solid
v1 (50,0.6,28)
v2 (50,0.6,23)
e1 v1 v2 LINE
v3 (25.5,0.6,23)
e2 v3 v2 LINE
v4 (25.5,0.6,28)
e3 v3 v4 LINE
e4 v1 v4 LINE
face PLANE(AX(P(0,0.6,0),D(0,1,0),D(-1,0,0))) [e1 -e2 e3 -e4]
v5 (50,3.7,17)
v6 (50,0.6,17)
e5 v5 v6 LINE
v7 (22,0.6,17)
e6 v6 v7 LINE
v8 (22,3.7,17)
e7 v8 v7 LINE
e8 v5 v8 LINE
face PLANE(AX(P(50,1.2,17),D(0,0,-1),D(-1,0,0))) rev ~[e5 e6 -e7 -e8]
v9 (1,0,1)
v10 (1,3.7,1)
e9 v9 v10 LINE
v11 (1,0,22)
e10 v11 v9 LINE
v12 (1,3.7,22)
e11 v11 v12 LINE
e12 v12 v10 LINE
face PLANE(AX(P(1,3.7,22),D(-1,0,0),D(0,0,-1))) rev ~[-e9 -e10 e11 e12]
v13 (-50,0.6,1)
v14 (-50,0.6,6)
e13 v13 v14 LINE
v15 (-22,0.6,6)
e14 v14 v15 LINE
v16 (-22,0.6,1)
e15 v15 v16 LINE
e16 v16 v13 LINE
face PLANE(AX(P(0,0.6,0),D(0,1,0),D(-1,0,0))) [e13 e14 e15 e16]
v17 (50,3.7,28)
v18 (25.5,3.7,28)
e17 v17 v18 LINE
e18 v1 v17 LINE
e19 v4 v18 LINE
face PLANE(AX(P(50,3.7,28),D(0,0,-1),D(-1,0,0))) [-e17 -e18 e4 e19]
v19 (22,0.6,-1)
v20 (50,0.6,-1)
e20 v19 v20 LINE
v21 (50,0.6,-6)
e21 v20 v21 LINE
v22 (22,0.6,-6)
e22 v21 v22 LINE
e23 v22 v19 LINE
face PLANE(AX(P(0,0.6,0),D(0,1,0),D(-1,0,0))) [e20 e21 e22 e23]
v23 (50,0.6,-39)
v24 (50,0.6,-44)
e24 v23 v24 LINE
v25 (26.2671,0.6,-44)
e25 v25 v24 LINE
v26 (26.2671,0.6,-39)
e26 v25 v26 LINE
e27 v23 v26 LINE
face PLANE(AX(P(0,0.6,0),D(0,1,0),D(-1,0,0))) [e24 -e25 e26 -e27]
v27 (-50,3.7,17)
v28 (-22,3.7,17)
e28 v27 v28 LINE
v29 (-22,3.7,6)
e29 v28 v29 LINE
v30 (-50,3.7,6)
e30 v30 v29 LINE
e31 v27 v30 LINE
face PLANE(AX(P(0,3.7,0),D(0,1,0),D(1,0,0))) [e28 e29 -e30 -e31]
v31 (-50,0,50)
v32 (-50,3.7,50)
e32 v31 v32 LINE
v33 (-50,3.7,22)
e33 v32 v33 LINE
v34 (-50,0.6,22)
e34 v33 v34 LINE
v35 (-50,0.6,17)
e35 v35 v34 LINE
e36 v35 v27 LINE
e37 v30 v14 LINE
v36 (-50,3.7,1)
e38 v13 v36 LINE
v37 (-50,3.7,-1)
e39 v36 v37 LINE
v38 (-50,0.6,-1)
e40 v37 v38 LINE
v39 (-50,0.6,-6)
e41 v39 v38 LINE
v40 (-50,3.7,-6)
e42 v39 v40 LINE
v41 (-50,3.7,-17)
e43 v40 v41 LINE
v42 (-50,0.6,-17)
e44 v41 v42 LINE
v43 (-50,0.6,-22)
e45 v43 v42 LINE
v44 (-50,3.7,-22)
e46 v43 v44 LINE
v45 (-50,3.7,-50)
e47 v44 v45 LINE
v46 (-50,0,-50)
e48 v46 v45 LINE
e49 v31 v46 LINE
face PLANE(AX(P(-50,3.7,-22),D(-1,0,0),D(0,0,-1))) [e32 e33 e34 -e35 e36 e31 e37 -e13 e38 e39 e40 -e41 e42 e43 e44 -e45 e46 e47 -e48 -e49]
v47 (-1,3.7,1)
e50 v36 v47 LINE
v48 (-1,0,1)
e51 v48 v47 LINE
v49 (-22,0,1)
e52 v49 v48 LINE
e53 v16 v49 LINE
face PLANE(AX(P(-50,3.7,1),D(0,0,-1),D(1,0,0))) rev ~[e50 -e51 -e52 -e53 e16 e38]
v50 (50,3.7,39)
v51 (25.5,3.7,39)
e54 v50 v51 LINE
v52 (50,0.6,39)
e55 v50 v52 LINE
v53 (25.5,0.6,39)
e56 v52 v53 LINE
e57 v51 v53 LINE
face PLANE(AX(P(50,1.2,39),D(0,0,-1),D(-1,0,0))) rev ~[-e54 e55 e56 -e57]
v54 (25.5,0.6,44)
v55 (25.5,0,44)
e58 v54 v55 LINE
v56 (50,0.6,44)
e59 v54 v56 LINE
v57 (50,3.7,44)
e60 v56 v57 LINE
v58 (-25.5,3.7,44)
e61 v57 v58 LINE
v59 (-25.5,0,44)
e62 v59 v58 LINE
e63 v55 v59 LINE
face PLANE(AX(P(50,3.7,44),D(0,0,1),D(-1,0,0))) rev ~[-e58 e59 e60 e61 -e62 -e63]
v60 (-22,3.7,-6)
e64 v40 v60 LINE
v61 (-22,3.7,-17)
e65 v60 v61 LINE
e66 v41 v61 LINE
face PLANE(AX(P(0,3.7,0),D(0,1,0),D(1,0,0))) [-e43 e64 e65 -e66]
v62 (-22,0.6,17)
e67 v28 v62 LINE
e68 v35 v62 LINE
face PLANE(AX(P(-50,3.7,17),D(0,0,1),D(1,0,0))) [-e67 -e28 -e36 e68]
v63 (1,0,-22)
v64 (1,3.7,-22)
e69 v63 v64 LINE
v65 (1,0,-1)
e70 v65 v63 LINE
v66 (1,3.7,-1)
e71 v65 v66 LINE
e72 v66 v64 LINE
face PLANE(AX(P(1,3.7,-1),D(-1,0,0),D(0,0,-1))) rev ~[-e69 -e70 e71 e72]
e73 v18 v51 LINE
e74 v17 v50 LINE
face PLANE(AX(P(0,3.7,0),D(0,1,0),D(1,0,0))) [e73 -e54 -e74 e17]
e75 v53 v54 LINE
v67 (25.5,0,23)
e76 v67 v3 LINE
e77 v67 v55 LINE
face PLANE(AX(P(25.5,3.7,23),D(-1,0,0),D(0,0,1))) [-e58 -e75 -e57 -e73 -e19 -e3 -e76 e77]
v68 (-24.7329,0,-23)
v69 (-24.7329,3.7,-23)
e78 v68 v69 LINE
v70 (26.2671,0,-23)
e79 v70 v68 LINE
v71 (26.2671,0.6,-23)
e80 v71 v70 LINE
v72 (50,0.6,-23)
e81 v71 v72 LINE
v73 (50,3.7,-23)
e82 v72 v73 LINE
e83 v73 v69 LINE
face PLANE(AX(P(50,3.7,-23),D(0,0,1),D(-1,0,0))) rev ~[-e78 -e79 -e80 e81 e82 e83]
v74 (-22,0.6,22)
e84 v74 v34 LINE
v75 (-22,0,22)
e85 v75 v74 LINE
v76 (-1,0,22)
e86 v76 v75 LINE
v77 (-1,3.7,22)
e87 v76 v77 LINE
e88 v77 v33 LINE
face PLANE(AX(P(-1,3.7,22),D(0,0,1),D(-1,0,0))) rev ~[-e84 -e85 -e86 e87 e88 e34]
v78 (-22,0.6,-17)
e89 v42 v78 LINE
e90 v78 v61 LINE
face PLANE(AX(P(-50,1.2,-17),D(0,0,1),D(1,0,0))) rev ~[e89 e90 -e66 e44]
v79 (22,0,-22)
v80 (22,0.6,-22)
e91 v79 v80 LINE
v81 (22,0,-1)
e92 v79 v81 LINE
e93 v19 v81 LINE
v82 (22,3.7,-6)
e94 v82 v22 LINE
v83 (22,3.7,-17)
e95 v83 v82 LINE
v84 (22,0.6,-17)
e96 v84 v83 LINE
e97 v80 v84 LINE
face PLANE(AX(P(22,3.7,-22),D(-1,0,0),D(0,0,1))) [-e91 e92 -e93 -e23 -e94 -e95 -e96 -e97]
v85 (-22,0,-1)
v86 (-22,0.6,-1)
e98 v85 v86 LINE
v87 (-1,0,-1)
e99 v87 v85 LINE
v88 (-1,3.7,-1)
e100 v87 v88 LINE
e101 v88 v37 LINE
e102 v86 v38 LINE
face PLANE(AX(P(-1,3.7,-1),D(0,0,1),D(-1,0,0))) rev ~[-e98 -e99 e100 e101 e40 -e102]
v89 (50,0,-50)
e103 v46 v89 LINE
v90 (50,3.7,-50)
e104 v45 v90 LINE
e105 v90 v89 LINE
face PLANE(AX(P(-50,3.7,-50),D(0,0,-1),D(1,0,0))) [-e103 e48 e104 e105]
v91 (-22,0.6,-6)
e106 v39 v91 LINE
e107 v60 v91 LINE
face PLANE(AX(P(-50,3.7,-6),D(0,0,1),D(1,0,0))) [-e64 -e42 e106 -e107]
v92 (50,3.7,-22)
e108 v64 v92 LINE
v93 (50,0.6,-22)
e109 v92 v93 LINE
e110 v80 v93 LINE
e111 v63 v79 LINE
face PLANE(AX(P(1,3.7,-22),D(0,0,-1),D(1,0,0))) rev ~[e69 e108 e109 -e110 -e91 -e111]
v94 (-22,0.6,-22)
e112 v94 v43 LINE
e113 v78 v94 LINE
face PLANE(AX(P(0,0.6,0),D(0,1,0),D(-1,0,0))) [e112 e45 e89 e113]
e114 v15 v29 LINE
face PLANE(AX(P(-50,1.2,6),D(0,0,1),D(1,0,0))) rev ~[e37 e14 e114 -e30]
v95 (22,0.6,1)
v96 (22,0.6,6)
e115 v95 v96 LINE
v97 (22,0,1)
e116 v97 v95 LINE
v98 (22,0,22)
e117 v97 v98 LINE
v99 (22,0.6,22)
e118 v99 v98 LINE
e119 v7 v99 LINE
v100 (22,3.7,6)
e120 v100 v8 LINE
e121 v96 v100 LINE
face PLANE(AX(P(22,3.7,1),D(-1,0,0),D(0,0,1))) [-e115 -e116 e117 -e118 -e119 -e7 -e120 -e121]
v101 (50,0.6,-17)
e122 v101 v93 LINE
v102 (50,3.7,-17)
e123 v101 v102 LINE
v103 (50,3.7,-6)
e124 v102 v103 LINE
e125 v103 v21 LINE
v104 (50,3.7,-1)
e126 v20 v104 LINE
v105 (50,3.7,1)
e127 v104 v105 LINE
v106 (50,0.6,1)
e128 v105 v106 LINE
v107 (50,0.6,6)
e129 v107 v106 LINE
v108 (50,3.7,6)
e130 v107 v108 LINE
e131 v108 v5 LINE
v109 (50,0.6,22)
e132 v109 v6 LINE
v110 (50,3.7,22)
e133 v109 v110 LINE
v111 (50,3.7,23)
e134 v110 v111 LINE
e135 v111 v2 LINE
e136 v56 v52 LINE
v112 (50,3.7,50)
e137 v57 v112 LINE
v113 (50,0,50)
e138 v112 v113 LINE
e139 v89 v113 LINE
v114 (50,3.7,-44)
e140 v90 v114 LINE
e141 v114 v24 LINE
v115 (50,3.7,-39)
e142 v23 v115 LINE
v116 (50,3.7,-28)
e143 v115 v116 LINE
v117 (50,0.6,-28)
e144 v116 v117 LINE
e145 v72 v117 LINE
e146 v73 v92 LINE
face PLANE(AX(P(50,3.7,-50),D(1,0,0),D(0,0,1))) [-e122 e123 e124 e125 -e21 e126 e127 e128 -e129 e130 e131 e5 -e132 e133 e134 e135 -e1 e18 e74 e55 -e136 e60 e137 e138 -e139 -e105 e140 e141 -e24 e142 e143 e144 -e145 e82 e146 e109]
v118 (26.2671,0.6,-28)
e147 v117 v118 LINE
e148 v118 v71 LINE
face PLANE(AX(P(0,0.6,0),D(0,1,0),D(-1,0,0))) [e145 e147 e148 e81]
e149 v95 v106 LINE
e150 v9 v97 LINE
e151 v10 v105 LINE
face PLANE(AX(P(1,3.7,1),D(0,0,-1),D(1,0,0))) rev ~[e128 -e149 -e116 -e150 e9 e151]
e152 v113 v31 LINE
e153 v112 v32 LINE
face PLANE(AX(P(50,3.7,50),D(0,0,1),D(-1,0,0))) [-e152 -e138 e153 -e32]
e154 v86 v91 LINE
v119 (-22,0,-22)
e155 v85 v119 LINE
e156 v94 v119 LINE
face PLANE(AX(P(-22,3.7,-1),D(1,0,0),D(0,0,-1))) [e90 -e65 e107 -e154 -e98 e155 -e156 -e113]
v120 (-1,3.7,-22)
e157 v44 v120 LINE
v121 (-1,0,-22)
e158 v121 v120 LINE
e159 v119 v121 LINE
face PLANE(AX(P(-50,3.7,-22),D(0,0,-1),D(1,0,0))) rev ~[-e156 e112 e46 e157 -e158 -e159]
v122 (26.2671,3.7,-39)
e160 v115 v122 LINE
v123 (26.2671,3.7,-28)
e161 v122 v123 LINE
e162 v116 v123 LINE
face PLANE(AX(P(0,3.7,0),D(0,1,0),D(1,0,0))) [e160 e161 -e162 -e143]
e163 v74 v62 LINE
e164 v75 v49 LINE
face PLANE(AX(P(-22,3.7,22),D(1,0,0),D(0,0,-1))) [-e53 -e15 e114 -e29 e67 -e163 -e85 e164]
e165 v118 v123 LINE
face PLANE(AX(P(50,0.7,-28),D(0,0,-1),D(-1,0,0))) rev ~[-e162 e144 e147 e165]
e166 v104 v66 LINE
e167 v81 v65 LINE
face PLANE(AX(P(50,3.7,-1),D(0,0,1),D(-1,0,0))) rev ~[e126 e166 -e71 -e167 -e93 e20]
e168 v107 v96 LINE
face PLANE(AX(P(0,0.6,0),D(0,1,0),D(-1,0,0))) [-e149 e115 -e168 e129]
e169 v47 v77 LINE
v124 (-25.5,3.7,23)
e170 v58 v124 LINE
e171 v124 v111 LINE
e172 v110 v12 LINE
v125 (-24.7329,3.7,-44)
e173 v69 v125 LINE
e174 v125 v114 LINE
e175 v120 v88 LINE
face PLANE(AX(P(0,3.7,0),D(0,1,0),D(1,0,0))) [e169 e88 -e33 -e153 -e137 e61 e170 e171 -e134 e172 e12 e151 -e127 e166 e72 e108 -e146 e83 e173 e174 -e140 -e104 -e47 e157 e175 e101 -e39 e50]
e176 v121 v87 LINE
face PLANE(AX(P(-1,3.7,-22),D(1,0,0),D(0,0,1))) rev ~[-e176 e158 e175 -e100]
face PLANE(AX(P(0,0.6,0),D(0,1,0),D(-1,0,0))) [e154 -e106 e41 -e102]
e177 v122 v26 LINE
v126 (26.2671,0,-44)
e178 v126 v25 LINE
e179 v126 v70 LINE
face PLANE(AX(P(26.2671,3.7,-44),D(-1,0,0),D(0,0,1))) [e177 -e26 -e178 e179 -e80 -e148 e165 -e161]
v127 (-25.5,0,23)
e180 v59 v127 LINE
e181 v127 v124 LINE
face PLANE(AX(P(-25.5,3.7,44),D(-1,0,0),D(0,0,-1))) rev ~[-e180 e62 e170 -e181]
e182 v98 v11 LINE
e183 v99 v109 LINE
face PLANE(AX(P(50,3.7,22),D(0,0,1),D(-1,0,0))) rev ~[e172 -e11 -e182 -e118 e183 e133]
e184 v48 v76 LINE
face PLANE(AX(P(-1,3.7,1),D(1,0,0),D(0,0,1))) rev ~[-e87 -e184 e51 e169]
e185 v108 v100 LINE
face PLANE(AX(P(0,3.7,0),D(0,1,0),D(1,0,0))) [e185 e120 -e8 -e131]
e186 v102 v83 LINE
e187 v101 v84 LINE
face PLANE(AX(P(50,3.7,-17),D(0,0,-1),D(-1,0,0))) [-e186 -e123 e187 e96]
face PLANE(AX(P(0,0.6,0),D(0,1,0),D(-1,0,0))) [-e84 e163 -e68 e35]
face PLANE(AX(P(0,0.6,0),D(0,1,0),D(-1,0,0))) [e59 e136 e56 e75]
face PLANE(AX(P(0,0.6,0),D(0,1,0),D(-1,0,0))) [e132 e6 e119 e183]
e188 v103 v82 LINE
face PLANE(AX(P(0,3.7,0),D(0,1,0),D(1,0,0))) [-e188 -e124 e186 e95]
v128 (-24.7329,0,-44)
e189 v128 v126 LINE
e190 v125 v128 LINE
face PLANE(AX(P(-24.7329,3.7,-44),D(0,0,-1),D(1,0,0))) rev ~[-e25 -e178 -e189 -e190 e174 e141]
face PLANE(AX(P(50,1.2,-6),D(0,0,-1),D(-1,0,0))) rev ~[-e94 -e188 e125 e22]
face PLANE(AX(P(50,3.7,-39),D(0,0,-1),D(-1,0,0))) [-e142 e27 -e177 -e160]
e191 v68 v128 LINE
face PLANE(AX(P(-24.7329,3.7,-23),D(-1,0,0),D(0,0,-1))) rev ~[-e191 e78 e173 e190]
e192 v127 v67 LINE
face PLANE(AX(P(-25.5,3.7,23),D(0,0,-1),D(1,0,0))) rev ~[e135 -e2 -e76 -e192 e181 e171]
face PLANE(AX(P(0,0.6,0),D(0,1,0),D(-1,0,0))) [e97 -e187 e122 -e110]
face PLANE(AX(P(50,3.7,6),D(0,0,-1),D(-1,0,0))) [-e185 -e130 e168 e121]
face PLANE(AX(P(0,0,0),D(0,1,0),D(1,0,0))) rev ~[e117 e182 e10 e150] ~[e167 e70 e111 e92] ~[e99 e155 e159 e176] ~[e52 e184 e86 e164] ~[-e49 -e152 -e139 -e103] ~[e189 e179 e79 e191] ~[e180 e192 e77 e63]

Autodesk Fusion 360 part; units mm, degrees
sketch "スケッチ1" plane through (0, 0, 0) normal (0, 1, 0) x (1, 0, 0)
  line L0 (-50, 50) -> (50, 50)
  line L1 (50, 50) -> (50, -50)
  line L2 (50, -50) -> (-50, -50)
  line L3 (-50, -50) -> (-50, 50)
extrude "押し出し1" add sketch "スケッチ1" along normal blind 3.7
sketch "スケッチ2" plane through (0, 3.7, 0) normal (0, 1, 0) x (-1, 0, 0)
  line L0 (50, 50) -> (-50, 50)
  line L1 (-50, 50) -> (-50, -50)
  line L2 (-50, -50) -> (50, -50)
  line L3 (50, -50) -> (50, 50)
  line L4 (24.7329, -44) -> (-26.2671, -44)
  line L5 (-26.2671, -44) -> (-26.2671, -23)
  line L6 (-26.2671, -23) -> (24.7329, -23)
  line L7 (24.7329, -23) -> (24.7329, -44)
  dimension "d3" = 51
  dimension "d4" = 21
  dimension "d5" = 6
  dimension "d6" = 23.7329
extrude "押し出し2" cut sketch "スケッチ2" against normal blind 3.7 contours L4 L5 L6 L7
sketch "スケッチ3" plane through (0, 3.7, 0) normal (0, 1, 0) x (-1, 0, 0)
  line L0 (-26.2671, -44) -> (-26.2671, -23)
  line L1 (-26.2671, -23) -> (24.7329, -23)
  line L2 (24.7329, -23) -> (24.7329, -44)
  line L3 (24.7329, -44) -> (-26.2671, -44)
  line L4 (50, 50) -> (-50, 50)
  line L5 (-50, 50) -> (-50, -50)
  line L6 (-50, -50) -> (50, -50)
  line L7 (50, -50) -> (50, 50)
  line L8 (-26.2671, -44) -> (-50.7671, -44)
  line L9 (-50.7671, -44) -> (-50.7671, -39)
  line L10 (-50.7671, -39) -> (-26.2671, -39)
  line L11 (-26.2671, -39) -> (-26.2671, -44)
  line L12 (-26.2671, -23) -> (-50.7671, -23)
  line L13 (-50.7671, -23) -> (-50.7671, -28)
  line L14 (-50.7671, -28) -> (-26.2671, -28)
  line L15 (-26.2671, -28) -> (-26.2671, -23)
  dimension "d9" = 24.5
  dimension "d10" = 5
  dimension "d11" = 24.5
  dimension "d12" = 5
extrude "押し出し3" cut sketch "スケッチ3" against normal blind 2.6 contours L0 L5 L8 L10 L11 | L0 L5 L12 L14 L15
sketch "スケッチ4" plane through (0, 3.7, 0) normal (0, 1, 0) x (-1, 0, 0)
  line L0 (-50, -23) -> (24.7329, -23)
  line L1 (24.7329, -23) -> (24.7329, -44)
  line L2 (24.7329, -44) -> (-50, -44)
  line L3 (-50, -44) -> (-50, -50)
  line L4 (-50, -50) -> (50, -50)
  line L5 (50, -50) -> (50, 50)
  line L6 (50, 50) -> (-50, 50)
  line L7 (-50, 50) -> (-50, -23)
  line L8 (-1, -22) -> (-22, -22)
  line L9 (-22, -22) -> (-22, -1)
  line L10 (-22, -1) -> (-1, -1)
  line L11 (-1, -1) -> (-1, -22)
  dimension "d15" = 21
  dimension "d16" = 21
  dimension "d17" = 1
  dimension "d18" = 28
extrude "押し出し4" cut sketch "スケッチ4" against normal blind 3.7 contours L8 L9 L10 L11
sketch "スケッチ5" plane through (0, 3.7, 0) normal (0, 1, 0) x (-1, 0, 0)
  line L0 (-22, -22) -> (-22, -1)
  line L1 (-22, -1) -> (-1, -1)
  line L2 (-1, -1) -> (-1, -22)
  line L3 (-1, -22) -> (-22, -22)
  line L4 (-50, -23) -> (24.7329, -23)
  line L5 (24.7329, -23) -> (24.7329, -44)
  line L6 (24.7329, -44) -> (-50, -44)
  line L7 (-50, -44) -> (-50, -50)
  line L8 (-50, -50) -> (50, -50)
  line L9 (50, -50) -> (50, 50)
  line L10 (50, 50) -> (-50, 50)
  line L11 (-50, 50) -> (-50, -23)
  line L12 (-22, -22) -> (-50, -22)
  line L13 (-50, -22) -> (-50, -17)
  line L14 (-50, -17) -> (-22, -17)
  line L15 (-22, -17) -> (-22, -22)
  line L16 (-22, -1) -> (-50, -1)
  line L17 (-50, -1) -> (-50, -6)
  line L18 (-50, -6) -> (-22, -6)
  line L19 (-22, -6) -> (-22, -1)
  dimension "d21" = 28
  dimension "d22" = 5
  dimension "d23" = 28
  dimension "d24" = 5
extrude "押し出し5" cut sketch "スケッチ5" against normal blind 2.7 contours L0 L11 L12 L13 L14 L15 | L0 L11 L16 L17 L18 L19
sketch "スケッチ6" plane through (0, 3.7, 0) normal (0, 1, 0) x (-1, 0, 0)
  line L0 (-50, -1) -> (-1, -1)
  line L1 (-1, -1) -> (-1, -22)
  line L2 (-1, -22) -> (-50, -22)
  line L3 (-50, -22) -> (-50, -23)
  line L4 (-50, -23) -> (24.7329, -23)
  line L5 (24.7329, -23) -> (24.7329, -44)
  line L6 (24.7329, -44) -> (-50, -44)
  line L7 (-50, -44) -> (-50, -50)
  line L8 (-50, -50) -> (50, -50)
  line L9 (50, -50) -> (50, 50)
  line L10 (50, 50) -> (-50, 50)
  line L11 (-50, 50) -> (-50, -1)
  line L12 (22, -22) -> (1, -22)
  line L13 (1, -22) -> (1, -1)
  line L14 (1, -1) -> (22, -1)
  line L15 (22, -1) -> (22, -22)
  dimension "d27" = 21
  dimension "d28" = 21
  dimension "d29" = 1
  dimension "d30" = 28
extrude "押し出し6" cut sketch "スケッチ6" against normal blind 3.7 contours L12 L13 L14 L15
sketch "スケッチ7" plane through (0, 3.7, 0) normal (0, 1, 0) x (-1, 0, 0)
  line L0 (1, -22) -> (1, -1)
  line L1 (1, -1) -> (22, -1)
  line L2 (22, -1) -> (22, -22)
  line L3 (22, -22) -> (1, -22)
  line L4 (-50, -1) -> (-1, -1)
  line L5 (-1, -1) -> (-1, -22)
  line L6 (-1, -22) -> (-50, -22)
  line L7 (-50, -22) -> (-50, -23)
  line L8 (-50, -23) -> (24.7329, -23)
  line L9 (24.7329, -23) -> (24.7329, -44)
  line L10 (24.7329, -44) -> (-50, -44)
  line L11 (-50, -44) -> (-50, -50)
  line L12 (-50, -50) -> (50, -50)
  line L13 (50, -50) -> (50, 50)
  line L14 (50, 50) -> (-50, 50)
  line L15 (-50, 50) -> (-50, -1)
  line L16 (22, -22) -> (50, -22)
  line L17 (50, -22) -> (50, -17)
  line L18 (50, -17) -> (22, -17)
  line L19 (22, -17) -> (22, -22)
  line L20 (22, -1) -> (50, -1)
  line L21 (50, -1) -> (50, -6)
  line L22 (50, -6) -> (22, -6)
  line L23 (22, -6) -> (22, -1)
  dimension "d33" = 28
  dimension "d34" = 5
  dimension "d35" = 28
  dimension "d36" = 5
extrude "押し出し7" cut sketch "スケッチ7" against normal blind 2.7 contours L2 L13 L16 L17 L18 L19 | L2 L13 L20 L21 L22 L23
sketch "スケッチ8" plane through (0, 3.7, 0) normal (0, 1, 0) x (-1, 0, 0)
  line L0 (1, -1) -> (50, -1)
  line L1 (50, -1) -> (50, 50)
  line L2 (50, 50) -> (-50, 50)
  line L3 (-50, 50) -> (-50, -1)
  line L4 (-50, -1) -> (-1, -1)
  line L5 (-1, -1) -> (-1, -22)
  line L6 (-1, -22) -> (-50, -22)
  line L7 (-50, -22) -> (-50, -23)
  line L8 (-50, -23) -> (24.7329, -23)
  line L9 (24.7329, -23) -> (24.7329, -44)
  line L10 (24.7329, -44) -> (-50, -44)
  line L11 (-50, -44) -> (-50, -50)
  line L12 (-50, -50) -> (50, -50)
  line L13 (50, -50) -> (50, -22)
  line L14 (50, -22) -> (1, -22)
  line L15 (1, -22) -> (1, -1)
  line L16 (-1, 1) -> (-22, 1)
  line L17 (-22, 1) -> (-22, 22)
  line L18 (-22, 22) -> (-1, 22)
  line L19 (-1, 22) -> (-1, 1)
  dimension "d39" = 21
  dimension "d40" = 21
  dimension "d41" = 2
  dimension "d42" = 28
extrude "押し出し8" cut sketch "スケッチ8" against normal blind 3.7 contours L16 L17 L18 L19
sketch "スケッチ9" plane through (0, 3.7, 0) normal (0, 1, 0) x (-1, 0, 0)
  line L0 (-22, 1) -> (-22, 22)
  line L1 (-22, 22) -> (-1, 22)
  line L2 (-1, 22) -> (-1, 1)
  line L3 (-1, 1) -> (-22, 1)
  line L4 (1, -1) -> (50, -1)
  line L5 (50, -1) -> (50, 50)
  line L6 (50, 50) -> (-50, 50)
  line L7 (-50, 50) -> (-50, -1)
  line L8 (-50, -1) -> (-1, -1)
  line L9 (-1, -1) -> (-1, -22)
  line L10 (-1, -22) -> (-50, -22)
  line L11 (-50, -22) -> (-50, -23)
  line L12 (-50, -23) -> (24.7329, -23)
  line L13 (24.7329, -23) -> (24.7329, -44)
  line L14 (24.7329, -44) -> (-50, -44)
  line L15 (-50, -44) -> (-50, -50)
  line L16 (-50, -50) -> (50, -50)
  line L17 (50, -50) -> (50, -22)
  line L18 (50, -22) -> (1, -22)
  line L19 (1, -22) -> (1, -1)
  line L20 (-22, 1) -> (-50, 1)
  line L21 (-50, 1) -> (-50, 6)
  line L22 (-50, 6) -> (-22, 6)
  line L23 (-22, 6) -> (-22, 1)
  line L24 (-22, 22) -> (-50, 22)
  line L25 (-50, 22) -> (-50, 17)
  line L26 (-50, 17) -> (-22, 17)
  line L27 (-22, 17) -> (-22, 22)
  dimension "d45" = 28
  dimension "d46" = 5
  dimension "d47" = 28
  dimension "d48" = 5
extrude "押し出し9" cut sketch "スケッチ9" against normal blind 2.7 contours L0 L7 L20 L21 L22 L23 | L0 L7 L24 L25 L26 L27
sketch "スケッチ10" plane through (0, 3.7, 0) normal (0, 1, 0) x (-1, 0, 0)
  line L0 (-1, 1) -> (-50, 1)
  line L1 (-50, 1) -> (-50, -1)
  line L2 (-50, -1) -> (-1, -1)
  line L3 (-1, -1) -> (-1, -22)
  line L4 (-1, -22) -> (-50, -22)
  line L5 (-50, -22) -> (-50, -23)
  line L6 (-50, -23) -> (24.7329, -23)
  line L7 (24.7329, -23) -> (24.7329, -44)
  line L8 (24.7329, -44) -> (-50, -44)
  line L9 (-50, -44) -> (-50, -50)
  line L10 (-50, -50) -> (50, -50)
  line L11 (50, -50) -> (50, -22)
  line L12 (50, -22) -> (1, -22)
  line L13 (1, -22) -> (1, -1)
  line L14 (1, -1) -> (50, -1)
  line L15 (50, -1) -> (50, 50)
  line L16 (50, 50) -> (-50, 50)
  line L17 (-50, 50) -> (-50, 22)
  line L18 (-50, 22) -> (-1, 22)
  line L19 (-1, 22) -> (-1, 1)
  line L20 (22, 1) -> (1, 1)
  line L21 (1, 1) -> (1, 22)
  line L22 (1, 22) -> (22, 22)
  line L23 (22, 22) -> (22, 1)
  dimension "d51" = 21
  dimension "d52" = 21
  dimension "d53" = 2
  dimension "d54" = 28
extrude "押し出し10" cut sketch "スケッチ10" against normal blind 3.7 contours L20 L21 L22 L23
sketch "スケッチ11" plane through (0, 3.7, 0) normal (0, 1, 0) x (-1, 0, 0)
  line L0 (1, 1) -> (1, 22)
  line L1 (1, 22) -> (22, 22)
  line L2 (22, 22) -> (22, 1)
  line L3 (22, 1) -> (1, 1)
  line L4 (-1, 1) -> (-50, 1)
  line L5 (-50, 1) -> (-50, -1)
  line L6 (-50, -1) -> (-1, -1)
  line L7 (-1, -1) -> (-1, -22)
  line L8 (-1, -22) -> (-50, -22)
  line L9 (-50, -22) -> (-50, -23)
  line L10 (-50, -23) -> (24.7329, -23)
  line L11 (24.7329, -23) -> (24.7329, -44)
  line L12 (24.7329, -44) -> (-50, -44)
  line L13 (-50, -44) -> (-50, -50)
  line L14 (-50, -50) -> (50, -50)
  line L15 (50, -50) -> (50, -22)
  line L16 (50, -22) -> (1, -22)
  line L17 (1, -22) -> (1, -1)
  line L18 (1, -1) -> (50, -1)
  line L19 (50, -1) -> (50, 50)
  line L20 (50, 50) -> (-50, 50)
  line L21 (-50, 50) -> (-50, 22)
  line L22 (-50, 22) -> (-1, 22)
  line L23 (-1, 22) -> (-1, 1)
  line L24 (22, 1) -> (50, 1)
  line L25 (50, 1) -> (50, 6)
  line L26 (50, 6) -> (22, 6)
  line L27 (22, 6) -> (22, 1)
  line L28 (22, 22) -> (50, 22)
  line L29 (50, 22) -> (50, 17)
  line L30 (50, 17) -> (22, 17)
  line L31 (22, 17) -> (22, 22)
  dimension "d57" = 28
  dimension "d58" = 5
  dimension "d59" = 28
  dimension "d60" = 5
extrude "押し出し11" cut sketch "スケッチ11" against normal blind 2.7 contours L2 L19 L24 L25 L26 L27 | L2 L19 L28 L29 L30 L31
sketch "スケッチ12" plane through (0, 3.7, 0) normal (0, 1, 0) x (-1, 0, 0)
  line L0 (50, 1) -> (1, 1)
  line L1 (1, 1) -> (1, 22)
  line L2 (1, 22) -> (50, 22)
  line L3 (50, 22) -> (50, 50)
  line L4 (50, 50) -> (-50, 50)
  line L5 (-50, 50) -> (-50, 22)
  line L6 (-50, 22) -> (-1, 22)
  line L7 (-1, 22) -> (-1, 1)
  line L8 (-1, 1) -> (-50, 1)
  line L9 (-50, 1) -> (-50, -1)
  line L10 (-50, -1) -> (-1, -1)
  line L11 (-1, -1) -> (-1, -22)
  line L12 (-1, -22) -> (-50, -22)
  line L13 (-50, -22) -> (-50, -23)
  line L14 (-50, -23) -> (24.7329, -23)
  line L15 (24.7329, -23) -> (24.7329, -44)
  line L16 (24.7329, -44) -> (-50, -44)
  line L17 (-50, -44) -> (-50, -50)
  line L18 (-50, -50) -> (50, -50)
  line L19 (50, -50) -> (50, -22)
  line L20 (50, -22) -> (1, -22)
  line L21 (1, -22) -> (1, -1)
  line L22 (1, -1) -> (50, -1)
  line L23 (50, -1) -> (50, 1)
  line L24 (25.5, 23) -> (-25.5, 23)
  line L25 (-25.5, 23) -> (-25.5, 44)
  line L26 (-25.5, 44) -> (25.5, 44)
  line L27 (25.5, 44) -> (25.5, 23)
  dimension "d63" = 51
  dimension "d64" = 21
  dimension "d65" = 24.5
  dimension "d66" = 1
extrude "押し出し12" cut sketch "スケッチ12" against normal blind 3.7 contours L24 L25 L26 L27
sketch "スケッチ13" plane through (0, 3.7, 0) normal (0, 1, 0) x (-1, 0, 0)
  line L0 (-25.5, 23) -> (-25.5, 44)
  line L1 (-25.5, 44) -> (25.5, 44)
  line L2 (25.5, 44) -> (25.5, 23)
  line L3 (25.5, 23) -> (-25.5, 23)
  line L4 (50, 1) -> (1, 1)
  line L5 (1, 1) -> (1, 22)
  line L6 (1, 22) -> (50, 22)
  line L7 (50, 22) -> (50, 50)
  line L8 (50, 50) -> (-50, 50)
  line L9 (-50, 50) -> (-50, 22)
  line L10 (-50, 22) -> (-1, 22)
  line L11 (-1, 22) -> (-1, 1)
  line L12 (-1, 1) -> (-50, 1)
  line L13 (-50, 1) -> (-50, -1)
  line L14 (-50, -1) -> (-1, -1)
  line L15 (-1, -1) -> (-1, -22)
  line L16 (-1, -22) -> (-50, -22)
  line L17 (-50, -22) -> (-50, -23)
  line L18 (-50, -23) -> (24.7329, -23)
  line L19 (24.7329, -23) -> (24.7329, -44)
  line L20 (24.7329, -44) -> (-50, -44)
  line L21 (-50, -44) -> (-50, -50)
  line L22 (-50, -50) -> (50, -50)
  line L23 (50, -50) -> (50, -22)
  line L24 (50, -22) -> (1, -22)
  line L25 (1, -22) -> (1, -1)
  line L26 (1, -1) -> (50, -1)
  line L27 (50, -1) -> (50, 1)
  line L28 (-25.5, 23) -> (-53.5, 23)
  line L29 (-53.5, 23) -> (-53.5, 28)
  line L30 (-53.5, 28) -> (-25.5, 28)
  line L31 (-25.5, 28) -> (-25.5, 23)
  line L32 (-25.5, 44) -> (-53.5, 44)
  line L33 (-53.5, 44) -> (-53.5, 39)
  line L34 (-53.5, 39) -> (-25.5, 39)
  line L35 (-25.5, 39) -> (-25.5, 44)
  dimension "d69" = 28
  dimension "d70" = 5
  dimension "d71" = 28
  dimension "d72" = 5
extrude "押し出し13" cut sketch "スケッチ13" against normal blind 2.7 contours L0 L9 L28 L30 L31 | L0 L9 L32 L34 L35
sketch "スケッチ14" plane through (0, 0, 0) normal (0, 1, 0) x (1, 0, 0)
extrude "押し出し14" add 2 faces at (33.6667, 1, 40.6667) (33.6667, 1, 24.6667) along direction (0, 1, 0) blind 2
extrude "押し出し15" cut 2 faces at (33.6667, 3, 40.6667) (33.6667, 3, 24.6667) along direction (0, -1, 0) blind 1.8
extrude "押し出し16" add 8 faces at (40.6667, 1, 20.3333) (40.6667, 1, 4.3333) (40.6667, 1, -2.6667) (40.6667, 1, -18.6667) (-31.3333, 1, -18.6667) (-31.3333, 1, -2.6667) (-31.3333, 1, 4.3333) (-31.3333, 1, 20.3333) along direction (0, 1, 0) blind 0.2
extrude "押し出し17" add 1 faces at (-41.5776, 3.7, -38.6667) along direction (0, 1, 0) blind 1
extrude "押し出し18" add 6 faces at (-40.6667, 3.7, -13.3333) (-40.6667, 3.7, 13.3333) (41.8333, 3.7, 35.3333) (31.3333, 3.7, 9.6667) (40.6667, 3.7, -9.6667) (42.089, 3.7, -35.3333) along direction (0, 1, 0) blind 1
sketch "スケッチ15" plane through (0, 0, 0) normal (0, 1, 0) x (1, 0, 0)
  line L0 (-50, -1) -> (-50, 1)
  line L1 (-50, 1) -> (-50, 6)
  line L2 (-50, 6) -> (-50, 17)
  line L3 (-50, 17) -> (-50, 22)
  line L4 (-50, 22) -> (-50, 50)
  line L5 (-50, 50) -> (-50, -50)
  line L6 (-50, -50) -> (-50, -22)
  line L7 (-50, -22) -> (-50, -17)
  line L8 (-50, -17) -> (-50, -6)
  line L9 (-50, -6) -> (-50, -1)
extrude "押し出し19" cut 10 faces at (33.6667, 1.2, 40.6667) (33.6667, 1.2, 24.6667) (40.6667, 1.2, 20.3333) (40.6667, 1.2, 4.3333) (40.6667, 1.2, -2.6667) (40.6667, 1.2, -18.6667) (-31.3333, 1.2, -18.6667) (-31.3333, 1.2, -2.6667) (-31.3333, 1.2, 4.3333) (-31.3333, 1.2, 20.3333) along direction (0, -1, 0) blind 0.6
extrude "押し出し20" cut 7 faces at (-41.5776, 4.7, -38.6667) (-40.6667, 4.7, 13.3333) (-40.6667, 4.7, -13.3333) (42.089, 4.7, -35.3333) (40.6667, 4.7, -9.6667) (31.3333, 4.7, 9.6667) (41.8333, 4.7, 35.3333) along direction (0, -1, 0) blind 1
extrude "押し出し21" cut 2 faces at (34.1781, 1.1, -26.3333) (34.1781, 1.1, -42.3333) along direction (0, -1, 0) blind 0.6
extrude "押し出し22" add 2 faces at (34.1781, 0.5, -42.3333) (34.1781, 0.5, -26.3333) along direction (0, 1, 0) blind 0.2
extrude "押し出し23" cut 2 faces at (34.1781, 0.7, -26.3333) (34.1781, 0.7, -42.3333) along direction (0, -1, 0) blind 0.1
